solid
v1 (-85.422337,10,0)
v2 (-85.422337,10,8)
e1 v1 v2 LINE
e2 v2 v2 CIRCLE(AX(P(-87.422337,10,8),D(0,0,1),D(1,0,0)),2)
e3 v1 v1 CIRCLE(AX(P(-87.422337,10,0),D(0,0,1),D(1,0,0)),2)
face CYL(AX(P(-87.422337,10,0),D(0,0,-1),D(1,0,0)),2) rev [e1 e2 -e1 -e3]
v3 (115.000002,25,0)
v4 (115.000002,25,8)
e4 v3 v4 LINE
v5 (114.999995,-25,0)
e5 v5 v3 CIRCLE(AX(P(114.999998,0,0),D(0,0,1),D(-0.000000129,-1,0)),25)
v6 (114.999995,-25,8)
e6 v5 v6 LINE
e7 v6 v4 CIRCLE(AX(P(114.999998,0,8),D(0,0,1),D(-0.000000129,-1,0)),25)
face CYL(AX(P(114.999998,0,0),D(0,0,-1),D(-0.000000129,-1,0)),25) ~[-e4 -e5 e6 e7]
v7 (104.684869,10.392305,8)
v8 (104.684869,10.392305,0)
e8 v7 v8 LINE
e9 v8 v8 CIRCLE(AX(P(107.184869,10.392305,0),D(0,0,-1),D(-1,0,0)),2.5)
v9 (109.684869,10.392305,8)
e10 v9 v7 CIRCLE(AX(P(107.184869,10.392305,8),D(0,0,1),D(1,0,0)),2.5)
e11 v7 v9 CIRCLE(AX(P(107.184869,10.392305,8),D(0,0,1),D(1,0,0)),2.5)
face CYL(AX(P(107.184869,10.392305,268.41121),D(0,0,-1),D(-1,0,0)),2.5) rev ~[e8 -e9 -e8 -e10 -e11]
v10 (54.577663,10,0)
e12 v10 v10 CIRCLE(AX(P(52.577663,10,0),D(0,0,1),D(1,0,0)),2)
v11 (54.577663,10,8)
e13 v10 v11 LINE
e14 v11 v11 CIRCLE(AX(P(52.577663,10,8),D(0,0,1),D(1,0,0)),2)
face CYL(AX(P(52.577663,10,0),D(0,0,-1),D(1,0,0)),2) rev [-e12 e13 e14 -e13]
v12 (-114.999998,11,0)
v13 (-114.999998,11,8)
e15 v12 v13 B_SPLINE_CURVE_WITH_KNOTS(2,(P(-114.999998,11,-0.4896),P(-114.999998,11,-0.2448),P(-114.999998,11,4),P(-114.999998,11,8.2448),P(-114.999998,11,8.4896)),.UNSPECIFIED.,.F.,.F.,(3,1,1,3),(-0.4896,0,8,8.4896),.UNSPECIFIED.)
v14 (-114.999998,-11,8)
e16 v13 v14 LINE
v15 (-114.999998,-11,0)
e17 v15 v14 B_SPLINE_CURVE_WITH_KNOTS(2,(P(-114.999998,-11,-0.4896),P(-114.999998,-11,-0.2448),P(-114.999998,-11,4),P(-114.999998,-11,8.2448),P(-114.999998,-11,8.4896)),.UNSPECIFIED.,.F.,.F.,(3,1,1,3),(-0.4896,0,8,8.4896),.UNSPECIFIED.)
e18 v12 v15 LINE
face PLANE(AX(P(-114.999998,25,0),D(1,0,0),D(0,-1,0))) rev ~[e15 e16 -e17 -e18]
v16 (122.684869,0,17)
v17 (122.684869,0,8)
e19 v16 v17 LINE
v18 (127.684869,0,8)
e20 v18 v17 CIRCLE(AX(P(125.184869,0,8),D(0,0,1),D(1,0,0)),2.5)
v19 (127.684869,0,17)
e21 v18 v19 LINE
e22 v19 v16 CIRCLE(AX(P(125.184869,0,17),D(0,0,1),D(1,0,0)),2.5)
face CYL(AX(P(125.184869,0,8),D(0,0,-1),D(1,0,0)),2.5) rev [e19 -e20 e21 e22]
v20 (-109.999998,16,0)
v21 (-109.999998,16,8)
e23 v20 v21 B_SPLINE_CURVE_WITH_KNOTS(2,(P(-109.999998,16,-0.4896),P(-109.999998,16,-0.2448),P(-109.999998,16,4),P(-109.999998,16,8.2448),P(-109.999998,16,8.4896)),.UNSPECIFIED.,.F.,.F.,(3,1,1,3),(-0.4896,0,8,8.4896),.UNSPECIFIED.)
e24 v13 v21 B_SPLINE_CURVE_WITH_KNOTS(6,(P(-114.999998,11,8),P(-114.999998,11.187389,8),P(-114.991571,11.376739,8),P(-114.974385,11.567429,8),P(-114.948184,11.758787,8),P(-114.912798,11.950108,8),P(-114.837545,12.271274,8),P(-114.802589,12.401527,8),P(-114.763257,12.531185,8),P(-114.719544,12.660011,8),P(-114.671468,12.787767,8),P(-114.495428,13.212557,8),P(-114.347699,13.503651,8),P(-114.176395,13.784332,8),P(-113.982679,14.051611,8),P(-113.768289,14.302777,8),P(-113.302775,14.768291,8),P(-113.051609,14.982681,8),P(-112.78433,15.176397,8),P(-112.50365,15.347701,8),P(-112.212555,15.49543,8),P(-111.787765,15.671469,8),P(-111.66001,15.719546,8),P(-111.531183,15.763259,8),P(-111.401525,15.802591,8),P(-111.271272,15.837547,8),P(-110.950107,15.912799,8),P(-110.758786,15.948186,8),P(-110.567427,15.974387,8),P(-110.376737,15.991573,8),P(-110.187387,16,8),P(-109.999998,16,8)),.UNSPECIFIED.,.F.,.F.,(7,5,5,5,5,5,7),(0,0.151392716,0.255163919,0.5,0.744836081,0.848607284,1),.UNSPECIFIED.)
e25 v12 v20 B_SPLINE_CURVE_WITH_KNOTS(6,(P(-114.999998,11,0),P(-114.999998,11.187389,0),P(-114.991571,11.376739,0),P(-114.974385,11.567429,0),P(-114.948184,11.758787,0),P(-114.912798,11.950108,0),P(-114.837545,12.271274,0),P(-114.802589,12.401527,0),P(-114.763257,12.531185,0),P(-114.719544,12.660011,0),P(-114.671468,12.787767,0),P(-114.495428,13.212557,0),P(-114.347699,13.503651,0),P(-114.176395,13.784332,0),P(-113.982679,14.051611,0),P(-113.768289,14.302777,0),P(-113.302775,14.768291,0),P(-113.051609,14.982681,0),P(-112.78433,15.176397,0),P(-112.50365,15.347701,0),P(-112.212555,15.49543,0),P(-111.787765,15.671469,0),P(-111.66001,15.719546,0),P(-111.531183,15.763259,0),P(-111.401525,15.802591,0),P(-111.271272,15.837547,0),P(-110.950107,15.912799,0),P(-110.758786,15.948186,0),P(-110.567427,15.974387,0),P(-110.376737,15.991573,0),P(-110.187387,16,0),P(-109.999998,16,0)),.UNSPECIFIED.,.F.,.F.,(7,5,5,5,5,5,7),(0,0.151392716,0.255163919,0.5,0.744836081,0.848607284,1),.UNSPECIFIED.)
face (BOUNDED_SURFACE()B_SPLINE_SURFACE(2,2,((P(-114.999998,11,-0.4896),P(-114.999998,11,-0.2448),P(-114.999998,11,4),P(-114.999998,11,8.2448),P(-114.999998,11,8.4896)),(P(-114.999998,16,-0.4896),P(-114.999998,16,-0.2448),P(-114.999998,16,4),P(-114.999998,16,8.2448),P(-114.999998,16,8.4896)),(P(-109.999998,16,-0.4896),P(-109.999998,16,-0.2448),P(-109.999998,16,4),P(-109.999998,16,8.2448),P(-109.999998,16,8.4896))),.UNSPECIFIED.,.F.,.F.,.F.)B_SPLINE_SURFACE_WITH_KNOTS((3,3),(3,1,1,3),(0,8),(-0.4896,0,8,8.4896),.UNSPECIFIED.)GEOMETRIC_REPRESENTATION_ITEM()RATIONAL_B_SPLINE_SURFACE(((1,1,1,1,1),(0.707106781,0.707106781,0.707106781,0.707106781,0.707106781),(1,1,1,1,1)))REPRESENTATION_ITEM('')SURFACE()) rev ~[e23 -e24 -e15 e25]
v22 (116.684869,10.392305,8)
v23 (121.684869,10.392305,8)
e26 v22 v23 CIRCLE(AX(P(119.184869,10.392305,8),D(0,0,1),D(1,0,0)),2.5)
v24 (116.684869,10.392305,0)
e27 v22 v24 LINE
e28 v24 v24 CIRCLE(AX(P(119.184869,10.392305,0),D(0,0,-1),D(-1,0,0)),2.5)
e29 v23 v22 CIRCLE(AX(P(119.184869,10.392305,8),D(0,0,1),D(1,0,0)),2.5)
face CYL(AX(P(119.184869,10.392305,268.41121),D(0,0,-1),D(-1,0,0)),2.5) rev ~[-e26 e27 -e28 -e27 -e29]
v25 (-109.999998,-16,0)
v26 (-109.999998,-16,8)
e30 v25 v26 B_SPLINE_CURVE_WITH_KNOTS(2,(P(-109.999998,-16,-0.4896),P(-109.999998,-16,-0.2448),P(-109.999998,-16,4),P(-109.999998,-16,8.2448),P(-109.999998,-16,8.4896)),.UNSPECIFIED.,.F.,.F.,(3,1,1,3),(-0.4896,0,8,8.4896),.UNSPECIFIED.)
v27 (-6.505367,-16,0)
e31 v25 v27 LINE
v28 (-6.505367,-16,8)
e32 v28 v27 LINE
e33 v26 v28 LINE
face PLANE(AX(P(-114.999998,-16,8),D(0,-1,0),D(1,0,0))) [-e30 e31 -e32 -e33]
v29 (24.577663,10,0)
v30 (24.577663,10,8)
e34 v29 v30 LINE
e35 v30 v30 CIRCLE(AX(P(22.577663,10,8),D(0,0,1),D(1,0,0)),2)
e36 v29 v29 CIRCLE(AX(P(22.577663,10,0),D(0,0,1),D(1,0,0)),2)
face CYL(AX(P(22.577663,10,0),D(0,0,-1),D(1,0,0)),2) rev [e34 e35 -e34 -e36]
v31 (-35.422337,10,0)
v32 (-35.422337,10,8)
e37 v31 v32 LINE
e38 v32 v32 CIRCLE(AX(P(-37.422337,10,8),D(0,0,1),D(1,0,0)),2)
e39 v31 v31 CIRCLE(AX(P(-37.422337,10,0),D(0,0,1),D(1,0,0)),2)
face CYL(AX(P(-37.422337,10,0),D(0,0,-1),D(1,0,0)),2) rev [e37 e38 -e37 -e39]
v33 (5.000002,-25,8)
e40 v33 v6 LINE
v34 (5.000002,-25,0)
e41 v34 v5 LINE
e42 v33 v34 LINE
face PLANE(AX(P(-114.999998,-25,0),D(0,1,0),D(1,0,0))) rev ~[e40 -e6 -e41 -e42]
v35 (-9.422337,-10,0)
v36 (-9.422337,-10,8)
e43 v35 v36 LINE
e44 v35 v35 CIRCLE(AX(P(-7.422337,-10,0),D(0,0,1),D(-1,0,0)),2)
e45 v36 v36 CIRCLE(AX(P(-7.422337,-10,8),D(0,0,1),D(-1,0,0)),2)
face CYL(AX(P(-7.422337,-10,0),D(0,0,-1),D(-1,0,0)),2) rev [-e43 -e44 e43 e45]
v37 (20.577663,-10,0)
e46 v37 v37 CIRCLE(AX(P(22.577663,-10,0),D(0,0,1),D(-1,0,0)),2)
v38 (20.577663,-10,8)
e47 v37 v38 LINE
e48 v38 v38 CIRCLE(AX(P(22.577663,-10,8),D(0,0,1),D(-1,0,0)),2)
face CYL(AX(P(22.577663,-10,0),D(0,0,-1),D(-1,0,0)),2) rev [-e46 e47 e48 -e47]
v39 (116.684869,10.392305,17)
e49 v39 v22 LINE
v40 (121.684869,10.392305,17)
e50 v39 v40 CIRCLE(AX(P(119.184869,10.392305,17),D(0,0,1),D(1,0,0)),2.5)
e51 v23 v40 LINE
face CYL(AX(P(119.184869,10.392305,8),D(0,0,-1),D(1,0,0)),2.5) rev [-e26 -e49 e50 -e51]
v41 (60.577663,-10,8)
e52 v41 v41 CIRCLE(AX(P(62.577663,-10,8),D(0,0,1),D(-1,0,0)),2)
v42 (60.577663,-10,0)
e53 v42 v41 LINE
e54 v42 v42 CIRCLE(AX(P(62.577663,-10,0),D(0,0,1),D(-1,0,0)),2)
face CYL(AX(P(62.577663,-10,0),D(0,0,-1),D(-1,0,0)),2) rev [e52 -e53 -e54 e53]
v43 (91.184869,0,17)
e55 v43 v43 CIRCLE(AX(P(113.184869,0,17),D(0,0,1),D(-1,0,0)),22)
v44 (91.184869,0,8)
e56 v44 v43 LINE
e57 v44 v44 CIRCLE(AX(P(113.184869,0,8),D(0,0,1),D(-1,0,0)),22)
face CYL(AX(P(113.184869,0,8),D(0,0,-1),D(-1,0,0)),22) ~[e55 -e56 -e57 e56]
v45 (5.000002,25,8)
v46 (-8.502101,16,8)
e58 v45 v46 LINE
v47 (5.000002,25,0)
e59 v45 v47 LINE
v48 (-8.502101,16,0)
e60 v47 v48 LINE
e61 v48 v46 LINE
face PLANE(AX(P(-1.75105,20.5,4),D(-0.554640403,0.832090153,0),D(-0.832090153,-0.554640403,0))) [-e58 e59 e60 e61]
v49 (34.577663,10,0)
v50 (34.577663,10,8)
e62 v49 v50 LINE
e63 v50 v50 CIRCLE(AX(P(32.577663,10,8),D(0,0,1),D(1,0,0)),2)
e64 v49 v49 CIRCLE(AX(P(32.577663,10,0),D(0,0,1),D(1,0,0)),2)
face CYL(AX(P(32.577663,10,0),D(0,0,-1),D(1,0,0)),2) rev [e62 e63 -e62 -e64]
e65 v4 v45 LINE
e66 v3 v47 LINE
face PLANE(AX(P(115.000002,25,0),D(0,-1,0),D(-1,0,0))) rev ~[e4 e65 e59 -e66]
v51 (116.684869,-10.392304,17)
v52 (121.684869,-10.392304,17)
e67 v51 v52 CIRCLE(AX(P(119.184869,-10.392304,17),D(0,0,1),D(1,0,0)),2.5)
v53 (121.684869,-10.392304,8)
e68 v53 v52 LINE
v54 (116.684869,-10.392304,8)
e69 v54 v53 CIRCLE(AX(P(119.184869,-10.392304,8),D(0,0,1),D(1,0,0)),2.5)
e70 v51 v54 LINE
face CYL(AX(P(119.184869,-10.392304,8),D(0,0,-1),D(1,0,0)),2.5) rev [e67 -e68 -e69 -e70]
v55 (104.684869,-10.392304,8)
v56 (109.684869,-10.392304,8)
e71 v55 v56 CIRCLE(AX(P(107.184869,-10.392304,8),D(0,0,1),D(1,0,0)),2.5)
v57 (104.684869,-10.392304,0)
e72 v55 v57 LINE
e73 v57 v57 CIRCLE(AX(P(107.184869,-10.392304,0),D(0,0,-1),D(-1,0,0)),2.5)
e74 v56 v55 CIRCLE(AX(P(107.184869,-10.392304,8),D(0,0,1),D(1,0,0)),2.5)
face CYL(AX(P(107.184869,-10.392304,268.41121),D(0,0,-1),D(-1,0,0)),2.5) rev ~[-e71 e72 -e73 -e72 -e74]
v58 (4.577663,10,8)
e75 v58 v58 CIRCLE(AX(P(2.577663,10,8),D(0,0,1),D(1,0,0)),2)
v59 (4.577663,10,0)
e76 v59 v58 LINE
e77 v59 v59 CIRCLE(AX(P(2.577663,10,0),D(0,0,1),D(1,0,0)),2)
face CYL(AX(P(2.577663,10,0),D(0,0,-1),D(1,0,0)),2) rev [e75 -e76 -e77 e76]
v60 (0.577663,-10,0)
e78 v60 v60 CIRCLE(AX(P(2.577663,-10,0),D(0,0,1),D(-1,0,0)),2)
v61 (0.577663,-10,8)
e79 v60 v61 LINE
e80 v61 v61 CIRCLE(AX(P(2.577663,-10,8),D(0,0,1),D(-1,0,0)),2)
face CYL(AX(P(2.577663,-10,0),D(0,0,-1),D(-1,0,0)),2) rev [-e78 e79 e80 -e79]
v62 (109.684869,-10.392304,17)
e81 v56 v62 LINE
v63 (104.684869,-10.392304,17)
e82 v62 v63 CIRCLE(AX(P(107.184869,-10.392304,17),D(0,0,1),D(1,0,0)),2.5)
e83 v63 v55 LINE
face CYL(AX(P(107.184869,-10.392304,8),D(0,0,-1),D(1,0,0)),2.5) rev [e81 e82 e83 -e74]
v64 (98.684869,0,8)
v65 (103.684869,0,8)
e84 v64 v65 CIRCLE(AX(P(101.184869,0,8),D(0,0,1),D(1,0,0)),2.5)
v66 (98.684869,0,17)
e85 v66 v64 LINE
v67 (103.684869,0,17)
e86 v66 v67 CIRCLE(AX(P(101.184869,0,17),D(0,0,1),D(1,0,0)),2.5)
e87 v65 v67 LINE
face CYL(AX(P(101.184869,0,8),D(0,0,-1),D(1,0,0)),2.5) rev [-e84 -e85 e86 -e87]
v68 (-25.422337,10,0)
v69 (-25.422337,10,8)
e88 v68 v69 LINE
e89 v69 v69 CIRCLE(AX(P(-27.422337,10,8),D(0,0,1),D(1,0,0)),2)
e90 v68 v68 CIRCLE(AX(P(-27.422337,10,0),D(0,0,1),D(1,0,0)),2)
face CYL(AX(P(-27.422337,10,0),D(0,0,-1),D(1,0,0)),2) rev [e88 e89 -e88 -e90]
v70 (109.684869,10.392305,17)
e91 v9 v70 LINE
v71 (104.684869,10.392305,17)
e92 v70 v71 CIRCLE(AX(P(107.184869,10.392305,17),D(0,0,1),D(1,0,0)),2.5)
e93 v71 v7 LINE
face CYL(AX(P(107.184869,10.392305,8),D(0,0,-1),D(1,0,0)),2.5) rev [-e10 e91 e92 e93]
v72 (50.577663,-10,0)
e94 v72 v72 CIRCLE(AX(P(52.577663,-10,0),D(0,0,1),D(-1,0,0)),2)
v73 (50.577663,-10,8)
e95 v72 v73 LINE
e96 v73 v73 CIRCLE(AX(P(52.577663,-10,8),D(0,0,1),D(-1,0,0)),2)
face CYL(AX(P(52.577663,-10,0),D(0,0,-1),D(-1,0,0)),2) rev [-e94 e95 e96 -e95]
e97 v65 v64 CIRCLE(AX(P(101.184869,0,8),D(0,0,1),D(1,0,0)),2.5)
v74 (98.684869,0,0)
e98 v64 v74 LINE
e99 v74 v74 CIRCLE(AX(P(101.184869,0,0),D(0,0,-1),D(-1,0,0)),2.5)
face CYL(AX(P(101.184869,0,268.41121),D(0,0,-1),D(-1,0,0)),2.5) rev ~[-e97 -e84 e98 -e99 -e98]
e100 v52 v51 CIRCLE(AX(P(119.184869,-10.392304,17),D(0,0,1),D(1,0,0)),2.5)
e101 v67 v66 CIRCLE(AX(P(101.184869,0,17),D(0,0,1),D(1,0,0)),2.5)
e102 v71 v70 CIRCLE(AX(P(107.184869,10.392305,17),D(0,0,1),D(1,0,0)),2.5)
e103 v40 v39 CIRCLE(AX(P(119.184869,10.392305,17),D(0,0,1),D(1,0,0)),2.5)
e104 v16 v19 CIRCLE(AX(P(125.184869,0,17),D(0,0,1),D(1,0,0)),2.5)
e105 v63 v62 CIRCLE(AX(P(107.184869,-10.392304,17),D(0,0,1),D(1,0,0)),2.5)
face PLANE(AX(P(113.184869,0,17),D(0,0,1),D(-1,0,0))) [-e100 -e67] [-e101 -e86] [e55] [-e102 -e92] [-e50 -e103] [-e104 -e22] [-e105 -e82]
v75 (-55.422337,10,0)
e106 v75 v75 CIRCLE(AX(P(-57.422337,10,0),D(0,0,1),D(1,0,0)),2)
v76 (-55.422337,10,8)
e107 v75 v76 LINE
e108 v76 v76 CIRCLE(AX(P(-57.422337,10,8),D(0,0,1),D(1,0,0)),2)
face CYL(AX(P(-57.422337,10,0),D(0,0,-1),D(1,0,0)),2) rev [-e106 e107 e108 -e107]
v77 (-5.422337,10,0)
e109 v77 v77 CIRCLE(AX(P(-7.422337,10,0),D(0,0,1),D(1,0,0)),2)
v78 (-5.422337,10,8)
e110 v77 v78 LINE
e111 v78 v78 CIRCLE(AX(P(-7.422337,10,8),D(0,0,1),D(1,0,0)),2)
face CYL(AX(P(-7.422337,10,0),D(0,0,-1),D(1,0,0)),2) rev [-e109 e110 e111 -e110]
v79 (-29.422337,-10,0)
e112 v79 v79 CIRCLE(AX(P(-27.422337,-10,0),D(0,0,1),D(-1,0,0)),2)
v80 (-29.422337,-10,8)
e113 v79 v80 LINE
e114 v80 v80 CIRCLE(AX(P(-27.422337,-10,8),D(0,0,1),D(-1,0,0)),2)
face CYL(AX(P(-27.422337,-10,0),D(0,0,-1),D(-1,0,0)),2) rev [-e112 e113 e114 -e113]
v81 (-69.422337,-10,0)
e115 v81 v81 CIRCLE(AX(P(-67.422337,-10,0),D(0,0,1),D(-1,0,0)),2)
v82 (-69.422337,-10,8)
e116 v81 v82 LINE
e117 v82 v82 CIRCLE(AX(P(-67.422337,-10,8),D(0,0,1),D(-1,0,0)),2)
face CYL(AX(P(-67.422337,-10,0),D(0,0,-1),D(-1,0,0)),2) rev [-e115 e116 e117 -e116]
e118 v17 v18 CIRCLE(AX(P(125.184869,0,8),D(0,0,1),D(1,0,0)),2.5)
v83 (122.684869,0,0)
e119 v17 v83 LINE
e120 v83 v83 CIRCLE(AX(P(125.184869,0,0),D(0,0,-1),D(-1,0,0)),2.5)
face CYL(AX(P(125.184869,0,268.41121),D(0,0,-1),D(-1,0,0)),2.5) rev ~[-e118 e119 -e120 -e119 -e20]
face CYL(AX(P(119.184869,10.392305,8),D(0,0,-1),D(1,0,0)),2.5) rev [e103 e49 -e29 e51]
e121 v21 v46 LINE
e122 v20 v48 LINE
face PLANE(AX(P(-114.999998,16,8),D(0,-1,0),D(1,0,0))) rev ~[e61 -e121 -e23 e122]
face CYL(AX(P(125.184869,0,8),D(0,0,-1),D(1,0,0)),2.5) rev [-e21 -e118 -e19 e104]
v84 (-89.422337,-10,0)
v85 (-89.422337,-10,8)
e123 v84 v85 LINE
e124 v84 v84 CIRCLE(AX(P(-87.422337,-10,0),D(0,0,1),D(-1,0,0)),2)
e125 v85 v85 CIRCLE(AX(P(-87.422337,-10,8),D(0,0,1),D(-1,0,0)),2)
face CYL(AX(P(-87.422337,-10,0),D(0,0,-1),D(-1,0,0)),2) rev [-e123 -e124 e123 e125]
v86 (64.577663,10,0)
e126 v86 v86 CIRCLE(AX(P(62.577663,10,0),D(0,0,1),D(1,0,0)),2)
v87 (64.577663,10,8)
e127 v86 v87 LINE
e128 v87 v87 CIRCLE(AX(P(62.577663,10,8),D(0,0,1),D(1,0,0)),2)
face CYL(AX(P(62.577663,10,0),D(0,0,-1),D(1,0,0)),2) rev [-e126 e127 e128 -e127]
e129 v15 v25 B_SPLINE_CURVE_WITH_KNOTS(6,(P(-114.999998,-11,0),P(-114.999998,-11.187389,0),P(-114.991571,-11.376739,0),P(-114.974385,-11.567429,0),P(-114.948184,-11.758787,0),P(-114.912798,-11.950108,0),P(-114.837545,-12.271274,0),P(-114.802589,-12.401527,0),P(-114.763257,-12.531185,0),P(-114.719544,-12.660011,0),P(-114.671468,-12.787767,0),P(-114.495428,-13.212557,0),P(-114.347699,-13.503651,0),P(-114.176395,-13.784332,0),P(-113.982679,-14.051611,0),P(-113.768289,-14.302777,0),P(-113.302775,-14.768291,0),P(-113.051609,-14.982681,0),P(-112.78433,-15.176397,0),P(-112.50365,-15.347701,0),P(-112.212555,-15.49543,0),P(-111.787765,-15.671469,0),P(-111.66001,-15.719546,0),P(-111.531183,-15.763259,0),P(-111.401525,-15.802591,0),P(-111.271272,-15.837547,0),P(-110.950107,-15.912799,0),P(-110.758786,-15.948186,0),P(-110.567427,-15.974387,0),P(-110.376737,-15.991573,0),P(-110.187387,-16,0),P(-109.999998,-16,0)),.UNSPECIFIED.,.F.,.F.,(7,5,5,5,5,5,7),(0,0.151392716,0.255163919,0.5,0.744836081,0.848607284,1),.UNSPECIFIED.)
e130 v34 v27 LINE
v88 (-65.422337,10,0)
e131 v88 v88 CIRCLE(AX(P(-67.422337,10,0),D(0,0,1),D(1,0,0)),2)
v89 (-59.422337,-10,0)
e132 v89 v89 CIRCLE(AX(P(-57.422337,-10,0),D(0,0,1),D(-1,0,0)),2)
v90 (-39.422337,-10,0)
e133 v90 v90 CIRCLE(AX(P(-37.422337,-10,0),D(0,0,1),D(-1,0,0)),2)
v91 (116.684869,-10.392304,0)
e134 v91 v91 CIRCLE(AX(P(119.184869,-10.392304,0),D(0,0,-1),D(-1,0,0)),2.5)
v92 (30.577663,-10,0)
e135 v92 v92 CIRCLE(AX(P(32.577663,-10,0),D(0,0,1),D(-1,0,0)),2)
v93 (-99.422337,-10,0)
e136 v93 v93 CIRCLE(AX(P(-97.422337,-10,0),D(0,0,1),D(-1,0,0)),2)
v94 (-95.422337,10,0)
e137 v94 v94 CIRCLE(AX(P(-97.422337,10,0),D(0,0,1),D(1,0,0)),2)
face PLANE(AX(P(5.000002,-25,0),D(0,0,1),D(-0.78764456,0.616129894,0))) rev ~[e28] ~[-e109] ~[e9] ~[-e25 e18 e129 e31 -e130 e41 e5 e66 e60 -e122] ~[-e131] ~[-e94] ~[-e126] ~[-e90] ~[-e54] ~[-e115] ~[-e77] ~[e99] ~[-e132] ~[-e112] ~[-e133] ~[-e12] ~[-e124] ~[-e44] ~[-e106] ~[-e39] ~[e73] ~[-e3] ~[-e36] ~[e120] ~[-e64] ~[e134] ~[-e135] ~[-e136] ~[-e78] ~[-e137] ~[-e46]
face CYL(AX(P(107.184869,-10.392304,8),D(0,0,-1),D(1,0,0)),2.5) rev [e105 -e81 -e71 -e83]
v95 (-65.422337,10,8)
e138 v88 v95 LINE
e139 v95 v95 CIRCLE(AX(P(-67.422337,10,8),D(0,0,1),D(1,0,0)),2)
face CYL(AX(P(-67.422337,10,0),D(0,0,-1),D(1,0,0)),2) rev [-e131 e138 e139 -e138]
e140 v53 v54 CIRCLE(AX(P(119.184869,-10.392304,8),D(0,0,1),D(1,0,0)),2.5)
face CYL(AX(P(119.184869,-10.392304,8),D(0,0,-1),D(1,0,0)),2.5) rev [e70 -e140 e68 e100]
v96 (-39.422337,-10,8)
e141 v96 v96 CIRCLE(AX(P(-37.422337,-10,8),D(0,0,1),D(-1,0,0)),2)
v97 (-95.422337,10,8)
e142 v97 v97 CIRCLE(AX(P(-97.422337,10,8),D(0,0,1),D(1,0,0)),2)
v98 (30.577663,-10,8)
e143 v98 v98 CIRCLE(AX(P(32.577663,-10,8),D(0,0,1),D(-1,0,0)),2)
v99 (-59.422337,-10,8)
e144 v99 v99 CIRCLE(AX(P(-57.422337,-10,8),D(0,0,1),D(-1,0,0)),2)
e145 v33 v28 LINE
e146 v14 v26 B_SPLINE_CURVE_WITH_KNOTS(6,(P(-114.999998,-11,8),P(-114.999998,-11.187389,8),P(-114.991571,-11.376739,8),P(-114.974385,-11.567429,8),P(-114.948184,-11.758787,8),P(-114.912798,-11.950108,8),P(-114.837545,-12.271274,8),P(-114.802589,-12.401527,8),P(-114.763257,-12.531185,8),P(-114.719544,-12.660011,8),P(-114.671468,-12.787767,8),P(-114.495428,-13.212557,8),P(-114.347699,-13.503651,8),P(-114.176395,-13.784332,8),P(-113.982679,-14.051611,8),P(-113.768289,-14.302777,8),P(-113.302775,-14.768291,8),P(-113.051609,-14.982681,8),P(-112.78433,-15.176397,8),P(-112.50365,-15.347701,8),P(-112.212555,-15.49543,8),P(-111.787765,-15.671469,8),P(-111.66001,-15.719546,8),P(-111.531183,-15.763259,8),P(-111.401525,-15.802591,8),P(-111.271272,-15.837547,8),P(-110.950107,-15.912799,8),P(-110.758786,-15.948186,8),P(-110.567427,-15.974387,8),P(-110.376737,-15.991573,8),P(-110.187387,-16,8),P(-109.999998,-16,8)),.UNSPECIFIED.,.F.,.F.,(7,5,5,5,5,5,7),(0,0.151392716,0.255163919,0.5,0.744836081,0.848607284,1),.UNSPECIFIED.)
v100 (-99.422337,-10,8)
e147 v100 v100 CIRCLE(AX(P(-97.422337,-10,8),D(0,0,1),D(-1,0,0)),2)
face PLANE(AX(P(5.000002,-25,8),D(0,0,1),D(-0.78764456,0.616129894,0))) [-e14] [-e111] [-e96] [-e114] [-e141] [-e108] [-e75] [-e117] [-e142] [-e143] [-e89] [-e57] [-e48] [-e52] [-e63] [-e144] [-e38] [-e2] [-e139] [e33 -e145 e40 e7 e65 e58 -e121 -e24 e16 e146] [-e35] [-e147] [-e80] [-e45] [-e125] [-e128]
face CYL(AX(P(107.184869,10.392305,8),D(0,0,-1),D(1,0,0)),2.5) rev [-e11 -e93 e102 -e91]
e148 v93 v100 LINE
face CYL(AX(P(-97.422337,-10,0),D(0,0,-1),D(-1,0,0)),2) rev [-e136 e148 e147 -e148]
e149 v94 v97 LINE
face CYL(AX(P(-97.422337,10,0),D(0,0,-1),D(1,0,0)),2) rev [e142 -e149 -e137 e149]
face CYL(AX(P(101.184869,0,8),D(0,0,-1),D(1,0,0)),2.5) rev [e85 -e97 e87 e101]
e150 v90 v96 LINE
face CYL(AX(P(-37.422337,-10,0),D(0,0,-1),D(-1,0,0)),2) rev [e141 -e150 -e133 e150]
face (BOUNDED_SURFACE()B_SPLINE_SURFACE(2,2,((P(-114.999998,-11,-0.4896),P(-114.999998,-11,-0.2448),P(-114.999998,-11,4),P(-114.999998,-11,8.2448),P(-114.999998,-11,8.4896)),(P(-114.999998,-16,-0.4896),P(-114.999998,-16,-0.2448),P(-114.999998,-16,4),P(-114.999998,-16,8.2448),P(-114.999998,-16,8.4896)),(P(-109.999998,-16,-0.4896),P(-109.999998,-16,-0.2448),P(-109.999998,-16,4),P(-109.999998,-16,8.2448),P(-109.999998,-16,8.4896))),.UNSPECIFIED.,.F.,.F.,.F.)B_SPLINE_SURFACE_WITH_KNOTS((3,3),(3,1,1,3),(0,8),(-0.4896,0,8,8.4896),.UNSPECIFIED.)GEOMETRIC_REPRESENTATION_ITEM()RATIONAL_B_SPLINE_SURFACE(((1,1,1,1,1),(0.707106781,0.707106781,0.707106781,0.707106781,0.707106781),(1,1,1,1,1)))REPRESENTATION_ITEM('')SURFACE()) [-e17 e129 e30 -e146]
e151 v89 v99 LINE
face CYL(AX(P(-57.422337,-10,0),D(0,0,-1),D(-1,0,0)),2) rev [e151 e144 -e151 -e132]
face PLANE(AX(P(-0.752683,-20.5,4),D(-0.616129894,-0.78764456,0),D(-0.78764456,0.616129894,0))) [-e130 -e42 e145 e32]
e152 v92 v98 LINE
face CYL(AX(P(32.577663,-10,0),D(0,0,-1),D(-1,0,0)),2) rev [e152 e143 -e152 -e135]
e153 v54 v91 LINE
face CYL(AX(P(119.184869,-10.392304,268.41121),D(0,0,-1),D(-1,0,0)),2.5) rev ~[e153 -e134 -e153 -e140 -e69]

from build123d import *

# Parameters (mm, degrees)
SKETCH_1_R          = 2
EXTRUDE_1_DEPTH     = 8
FILLET_1_R          = 10
SKETCH_2_R          = 22
SKETCH_2_R_2        = 2.5
EXTRUDE_3_DEPTH     = 9
MM_1_D              = 5
SKETCH_11_W         = 120
SKETCH_11_H         = 9.00000035
CUT_EXTRUDE_2_DEPTH = 143.499121284
FILLET_5_R          = 5
FILLET_8_R          = 5
RIB_9_REACH         = 145.227
SKETCH_14_WALL_W    = 304.68091252
SKETCH_14_WALL_H    = 8
RIB_26_REACH        = 144.499
SKETCH_16_WALL_W    = 14.607309972
SKETCH_16_WALL_H    = 8


with BuildPart() as part:
    # 草图1 → 凸台-拉伸1 (new body)
    with BuildSketch(Plane.XY):
        with BuildLine():
            Line((-114.99999839, -24.99999965), (114.99999517, -24.99999965))
            ThreePointArc((114.99999517, -24.99999965), (139.99999839, -2.87e-06), (115.00000161, 25.00000035))
            Line((115.00000161, 25.00000035), (-114.99999839, 25.00000035))
            Line((-114.99999839, 25.00000035), (-114.99999839, -24.99999965))
        make_face()
        with Locations((-67.422337314, 10.00000035)):
            Circle(SKETCH_1_R, mode=Mode.SUBTRACT)
        with Locations(Location((-67.422337314, -9.99999965, 0), (0, 0, 180))):
            Circle(SKETCH_1_R, mode=Mode.SUBTRACT)
        with Locations((-57.422337314, 10.00000035)):
            Circle(SKETCH_1_R, mode=Mode.SUBTRACT)
        with Locations(Location((-57.422337314, -9.99999965, 0), (0, 0, 180))):
            Circle(SKETCH_1_R, mode=Mode.SUBTRACT)
        with Locations((-37.422337314, 10.00000035)):
            Circle(SKETCH_1_R, mode=Mode.SUBTRACT)
        with Locations((-27.422337314, 10.00000035)):
            Circle(SKETCH_1_R, mode=Mode.SUBTRACT)
        with Locations(Location((-37.422337314, -9.99999965, 0), (0, 0, 180))):
            Circle(SKETCH_1_R, mode=Mode.SUBTRACT)
        with Locations(Location((-27.422337314, -9.99999965, 0), (0, 0, 180))):
            Circle(SKETCH_1_R, mode=Mode.SUBTRACT)
        with Locations((-7.422337314, 10.00000035)):
            Circle(SKETCH_1_R, mode=Mode.SUBTRACT)
        with Locations((2.577662686, 10.00000035)):
            Circle(SKETCH_1_R, mode=Mode.SUBTRACT)
        with Locations(Location((-7.422337314, -9.99999965, 0), (0, 0, 180))):
            Circle(SKETCH_1_R, mode=Mode.SUBTRACT)
        with Locations(Location((2.577662686, -9.99999965, 0), (0, 0, 180))):
            Circle(SKETCH_1_R, mode=Mode.SUBTRACT)
        with Locations((22.577662686, 10.00000035)):
            Circle(SKETCH_1_R, mode=Mode.SUBTRACT)
        with Locations((32.577662686, 10.00000035)):
            Circle(SKETCH_1_R, mode=Mode.SUBTRACT)
        with Locations(Location((22.577662686, -9.99999965, 0), (0, 0, 180))):
            Circle(SKETCH_1_R, mode=Mode.SUBTRACT)
        with Locations(Location((32.577662686, -9.99999965, 0), (0, 0, 180))):
            Circle(SKETCH_1_R, mode=Mode.SUBTRACT)
        with Locations((-97.422337314, 10.00000035)):
            Circle(SKETCH_1_R, mode=Mode.SUBTRACT)
        with Locations(Location((-97.422337314, -9.99999965, 0), (0, 0, 180))):
            Circle(SKETCH_1_R, mode=Mode.SUBTRACT)
        with Locations((-87.422337314, 10.00000035)):
            Circle(SKETCH_1_R, mode=Mode.SUBTRACT)
        with Locations(Location((-87.422337314, -9.99999965, 0), (0, 0, 180))):
            Circle(SKETCH_1_R, mode=Mode.SUBTRACT)
        with Locations((52.577662686, 10.00000035)):
            Circle(SKETCH_1_R, mode=Mode.SUBTRACT)
        with Locations((62.577662686, 10.00000035)):
            Circle(SKETCH_1_R, mode=Mode.SUBTRACT)
        with Locations(Location((52.577662686, -9.99999965, 0), (0, 0, 180))):
            Circle(SKETCH_1_R, mode=Mode.SUBTRACT)
        with Locations(Location((62.577662686, -9.99999965, 0), (0, 0, 180))):
            Circle(SKETCH_1_R, mode=Mode.SUBTRACT)
    extrude(amount=EXTRUDE_1_DEPTH)

    # 圆角1
    fillet_1_edges = [part.edges().sort_by_distance(p)[0] for p in [
        (-114.99999839, -24.99999965, 4),
        (-114.99999839, 25.00000035, 4),
    ]]
    fillet(fillet_1_edges, radius=FILLET_1_R)

    # 草图2 → 凸台-拉伸3 (add)
    with BuildSketch(Plane.XY.offset(8)):
        with Locations(Location((113.184869064, 3.5e-07, 0), (0, 0, 180))):
            Circle(SKETCH_2_R)
        with Locations((119.184869064, -10.392304495)):
            Circle(SKETCH_2_R_2, mode=Mode.SUBTRACT)
        with Locations((107.184869064, -10.392304495)):
            Circle(SKETCH_2_R_2, mode=Mode.SUBTRACT)
        with Locations((101.184869064, 3.5e-07)):
            Circle(SKETCH_2_R_2, mode=Mode.SUBTRACT)
        with Locations((107.184869064, 10.392305195)):
            Circle(SKETCH_2_R_2, mode=Mode.SUBTRACT)
        with Locations((119.184869064, 10.392305195)):
            Circle(SKETCH_2_R_2, mode=Mode.SUBTRACT)
        with Locations((125.184869064, 3.5e-07)):
            Circle(SKETCH_2_R_2, mode=Mode.SUBTRACT)
    extrude(amount=EXTRUDE_3_DEPTH)

    # 大小mm 暗销孔1 (through all)
    with Locations(Plane.XY.offset(8)):
        with Locations((119.184869064, -10.392304495), (107.184869064, -10.392304495), (101.184869064, 3.5e-07), (107.184869064, 10.392305195), (119.184869064, 10.392305195), (125.184869064, 3.5e-07)):
            Hole(MM_1_D / 2)

    # 草图11 → 切除-拉伸2 (cut, through all)
    with BuildSketch(Plane.XY.offset(8)):
        with Locations((-54.99999839, 20.500000175)):
            Rectangle(SKETCH_11_W, SKETCH_11_H)
        with Locations((-54.99999839, -20.500000175)):
            Rectangle(SKETCH_11_W, SKETCH_11_H)
    extrude(amount=-CUT_EXTRUDE_2_DEPTH, mode=Mode.SUBTRACT)

    # 圆角5
    fillet_5_edges = [part.edges().sort_by_distance(p)[0] for p in [
        (-114.949872796, 16, 4),
    ]]
    fillet(fillet_5_edges, radius=FILLET_5_R)

    # 圆角8
    fillet_8_edges = [part.edges().sort_by_distance(p)[0] for p in [
        (-114.949872726, -16, 4),
    ]]
    fillet(fillet_8_edges, radius=FILLET_8_R)

    # 草图14 wall → 筋9 (add, up to next)
    with BuildSketch(Plane(origin=(-1.751049722, 20.500000175, 0), x_dir=(-0.832090153066, -0.554640403479, 0), z_dir=(-0.554640403479, 0.832090153066, 0)), mode=Mode.PRIVATE) as rib_9_sk1:
        with Locations((0, 4)):
            Rectangle(SKETCH_14_WALL_W, SKETCH_14_WALL_H)
    rib_9_tool1 = extrude(rib_9_sk1.sketch, amount=-RIB_9_REACH, mode=Mode.PRIVATE) - part.part
    add(rib_9_tool1.solids().sort_by_distance((-1.751049722, 20.500000175, 0))[0])

    # 草图16 wall → 筋26 (add, up to next)
    with BuildSketch(Plane(origin=(-0.75268251, -20.500000175, 8), x_dir=(-0.787644560259, 0.616129894336, 0), z_dir=(-0.616129894336, -0.787644560259, 0)), mode=Mode.PRIVATE) as rib_26_sk1:
        with Locations((0, 4)):
            Rectangle(SKETCH_16_WALL_W, SKETCH_16_WALL_H)
    rib_26_tool1 = extrude(rib_26_sk1.sketch, amount=-RIB_26_REACH, mode=Mode.PRIVATE) - part.part
    add(rib_26_tool1.solids().sort_by_distance((-0.75268251, -20.500000175, 8))[0])


solid = part.part
